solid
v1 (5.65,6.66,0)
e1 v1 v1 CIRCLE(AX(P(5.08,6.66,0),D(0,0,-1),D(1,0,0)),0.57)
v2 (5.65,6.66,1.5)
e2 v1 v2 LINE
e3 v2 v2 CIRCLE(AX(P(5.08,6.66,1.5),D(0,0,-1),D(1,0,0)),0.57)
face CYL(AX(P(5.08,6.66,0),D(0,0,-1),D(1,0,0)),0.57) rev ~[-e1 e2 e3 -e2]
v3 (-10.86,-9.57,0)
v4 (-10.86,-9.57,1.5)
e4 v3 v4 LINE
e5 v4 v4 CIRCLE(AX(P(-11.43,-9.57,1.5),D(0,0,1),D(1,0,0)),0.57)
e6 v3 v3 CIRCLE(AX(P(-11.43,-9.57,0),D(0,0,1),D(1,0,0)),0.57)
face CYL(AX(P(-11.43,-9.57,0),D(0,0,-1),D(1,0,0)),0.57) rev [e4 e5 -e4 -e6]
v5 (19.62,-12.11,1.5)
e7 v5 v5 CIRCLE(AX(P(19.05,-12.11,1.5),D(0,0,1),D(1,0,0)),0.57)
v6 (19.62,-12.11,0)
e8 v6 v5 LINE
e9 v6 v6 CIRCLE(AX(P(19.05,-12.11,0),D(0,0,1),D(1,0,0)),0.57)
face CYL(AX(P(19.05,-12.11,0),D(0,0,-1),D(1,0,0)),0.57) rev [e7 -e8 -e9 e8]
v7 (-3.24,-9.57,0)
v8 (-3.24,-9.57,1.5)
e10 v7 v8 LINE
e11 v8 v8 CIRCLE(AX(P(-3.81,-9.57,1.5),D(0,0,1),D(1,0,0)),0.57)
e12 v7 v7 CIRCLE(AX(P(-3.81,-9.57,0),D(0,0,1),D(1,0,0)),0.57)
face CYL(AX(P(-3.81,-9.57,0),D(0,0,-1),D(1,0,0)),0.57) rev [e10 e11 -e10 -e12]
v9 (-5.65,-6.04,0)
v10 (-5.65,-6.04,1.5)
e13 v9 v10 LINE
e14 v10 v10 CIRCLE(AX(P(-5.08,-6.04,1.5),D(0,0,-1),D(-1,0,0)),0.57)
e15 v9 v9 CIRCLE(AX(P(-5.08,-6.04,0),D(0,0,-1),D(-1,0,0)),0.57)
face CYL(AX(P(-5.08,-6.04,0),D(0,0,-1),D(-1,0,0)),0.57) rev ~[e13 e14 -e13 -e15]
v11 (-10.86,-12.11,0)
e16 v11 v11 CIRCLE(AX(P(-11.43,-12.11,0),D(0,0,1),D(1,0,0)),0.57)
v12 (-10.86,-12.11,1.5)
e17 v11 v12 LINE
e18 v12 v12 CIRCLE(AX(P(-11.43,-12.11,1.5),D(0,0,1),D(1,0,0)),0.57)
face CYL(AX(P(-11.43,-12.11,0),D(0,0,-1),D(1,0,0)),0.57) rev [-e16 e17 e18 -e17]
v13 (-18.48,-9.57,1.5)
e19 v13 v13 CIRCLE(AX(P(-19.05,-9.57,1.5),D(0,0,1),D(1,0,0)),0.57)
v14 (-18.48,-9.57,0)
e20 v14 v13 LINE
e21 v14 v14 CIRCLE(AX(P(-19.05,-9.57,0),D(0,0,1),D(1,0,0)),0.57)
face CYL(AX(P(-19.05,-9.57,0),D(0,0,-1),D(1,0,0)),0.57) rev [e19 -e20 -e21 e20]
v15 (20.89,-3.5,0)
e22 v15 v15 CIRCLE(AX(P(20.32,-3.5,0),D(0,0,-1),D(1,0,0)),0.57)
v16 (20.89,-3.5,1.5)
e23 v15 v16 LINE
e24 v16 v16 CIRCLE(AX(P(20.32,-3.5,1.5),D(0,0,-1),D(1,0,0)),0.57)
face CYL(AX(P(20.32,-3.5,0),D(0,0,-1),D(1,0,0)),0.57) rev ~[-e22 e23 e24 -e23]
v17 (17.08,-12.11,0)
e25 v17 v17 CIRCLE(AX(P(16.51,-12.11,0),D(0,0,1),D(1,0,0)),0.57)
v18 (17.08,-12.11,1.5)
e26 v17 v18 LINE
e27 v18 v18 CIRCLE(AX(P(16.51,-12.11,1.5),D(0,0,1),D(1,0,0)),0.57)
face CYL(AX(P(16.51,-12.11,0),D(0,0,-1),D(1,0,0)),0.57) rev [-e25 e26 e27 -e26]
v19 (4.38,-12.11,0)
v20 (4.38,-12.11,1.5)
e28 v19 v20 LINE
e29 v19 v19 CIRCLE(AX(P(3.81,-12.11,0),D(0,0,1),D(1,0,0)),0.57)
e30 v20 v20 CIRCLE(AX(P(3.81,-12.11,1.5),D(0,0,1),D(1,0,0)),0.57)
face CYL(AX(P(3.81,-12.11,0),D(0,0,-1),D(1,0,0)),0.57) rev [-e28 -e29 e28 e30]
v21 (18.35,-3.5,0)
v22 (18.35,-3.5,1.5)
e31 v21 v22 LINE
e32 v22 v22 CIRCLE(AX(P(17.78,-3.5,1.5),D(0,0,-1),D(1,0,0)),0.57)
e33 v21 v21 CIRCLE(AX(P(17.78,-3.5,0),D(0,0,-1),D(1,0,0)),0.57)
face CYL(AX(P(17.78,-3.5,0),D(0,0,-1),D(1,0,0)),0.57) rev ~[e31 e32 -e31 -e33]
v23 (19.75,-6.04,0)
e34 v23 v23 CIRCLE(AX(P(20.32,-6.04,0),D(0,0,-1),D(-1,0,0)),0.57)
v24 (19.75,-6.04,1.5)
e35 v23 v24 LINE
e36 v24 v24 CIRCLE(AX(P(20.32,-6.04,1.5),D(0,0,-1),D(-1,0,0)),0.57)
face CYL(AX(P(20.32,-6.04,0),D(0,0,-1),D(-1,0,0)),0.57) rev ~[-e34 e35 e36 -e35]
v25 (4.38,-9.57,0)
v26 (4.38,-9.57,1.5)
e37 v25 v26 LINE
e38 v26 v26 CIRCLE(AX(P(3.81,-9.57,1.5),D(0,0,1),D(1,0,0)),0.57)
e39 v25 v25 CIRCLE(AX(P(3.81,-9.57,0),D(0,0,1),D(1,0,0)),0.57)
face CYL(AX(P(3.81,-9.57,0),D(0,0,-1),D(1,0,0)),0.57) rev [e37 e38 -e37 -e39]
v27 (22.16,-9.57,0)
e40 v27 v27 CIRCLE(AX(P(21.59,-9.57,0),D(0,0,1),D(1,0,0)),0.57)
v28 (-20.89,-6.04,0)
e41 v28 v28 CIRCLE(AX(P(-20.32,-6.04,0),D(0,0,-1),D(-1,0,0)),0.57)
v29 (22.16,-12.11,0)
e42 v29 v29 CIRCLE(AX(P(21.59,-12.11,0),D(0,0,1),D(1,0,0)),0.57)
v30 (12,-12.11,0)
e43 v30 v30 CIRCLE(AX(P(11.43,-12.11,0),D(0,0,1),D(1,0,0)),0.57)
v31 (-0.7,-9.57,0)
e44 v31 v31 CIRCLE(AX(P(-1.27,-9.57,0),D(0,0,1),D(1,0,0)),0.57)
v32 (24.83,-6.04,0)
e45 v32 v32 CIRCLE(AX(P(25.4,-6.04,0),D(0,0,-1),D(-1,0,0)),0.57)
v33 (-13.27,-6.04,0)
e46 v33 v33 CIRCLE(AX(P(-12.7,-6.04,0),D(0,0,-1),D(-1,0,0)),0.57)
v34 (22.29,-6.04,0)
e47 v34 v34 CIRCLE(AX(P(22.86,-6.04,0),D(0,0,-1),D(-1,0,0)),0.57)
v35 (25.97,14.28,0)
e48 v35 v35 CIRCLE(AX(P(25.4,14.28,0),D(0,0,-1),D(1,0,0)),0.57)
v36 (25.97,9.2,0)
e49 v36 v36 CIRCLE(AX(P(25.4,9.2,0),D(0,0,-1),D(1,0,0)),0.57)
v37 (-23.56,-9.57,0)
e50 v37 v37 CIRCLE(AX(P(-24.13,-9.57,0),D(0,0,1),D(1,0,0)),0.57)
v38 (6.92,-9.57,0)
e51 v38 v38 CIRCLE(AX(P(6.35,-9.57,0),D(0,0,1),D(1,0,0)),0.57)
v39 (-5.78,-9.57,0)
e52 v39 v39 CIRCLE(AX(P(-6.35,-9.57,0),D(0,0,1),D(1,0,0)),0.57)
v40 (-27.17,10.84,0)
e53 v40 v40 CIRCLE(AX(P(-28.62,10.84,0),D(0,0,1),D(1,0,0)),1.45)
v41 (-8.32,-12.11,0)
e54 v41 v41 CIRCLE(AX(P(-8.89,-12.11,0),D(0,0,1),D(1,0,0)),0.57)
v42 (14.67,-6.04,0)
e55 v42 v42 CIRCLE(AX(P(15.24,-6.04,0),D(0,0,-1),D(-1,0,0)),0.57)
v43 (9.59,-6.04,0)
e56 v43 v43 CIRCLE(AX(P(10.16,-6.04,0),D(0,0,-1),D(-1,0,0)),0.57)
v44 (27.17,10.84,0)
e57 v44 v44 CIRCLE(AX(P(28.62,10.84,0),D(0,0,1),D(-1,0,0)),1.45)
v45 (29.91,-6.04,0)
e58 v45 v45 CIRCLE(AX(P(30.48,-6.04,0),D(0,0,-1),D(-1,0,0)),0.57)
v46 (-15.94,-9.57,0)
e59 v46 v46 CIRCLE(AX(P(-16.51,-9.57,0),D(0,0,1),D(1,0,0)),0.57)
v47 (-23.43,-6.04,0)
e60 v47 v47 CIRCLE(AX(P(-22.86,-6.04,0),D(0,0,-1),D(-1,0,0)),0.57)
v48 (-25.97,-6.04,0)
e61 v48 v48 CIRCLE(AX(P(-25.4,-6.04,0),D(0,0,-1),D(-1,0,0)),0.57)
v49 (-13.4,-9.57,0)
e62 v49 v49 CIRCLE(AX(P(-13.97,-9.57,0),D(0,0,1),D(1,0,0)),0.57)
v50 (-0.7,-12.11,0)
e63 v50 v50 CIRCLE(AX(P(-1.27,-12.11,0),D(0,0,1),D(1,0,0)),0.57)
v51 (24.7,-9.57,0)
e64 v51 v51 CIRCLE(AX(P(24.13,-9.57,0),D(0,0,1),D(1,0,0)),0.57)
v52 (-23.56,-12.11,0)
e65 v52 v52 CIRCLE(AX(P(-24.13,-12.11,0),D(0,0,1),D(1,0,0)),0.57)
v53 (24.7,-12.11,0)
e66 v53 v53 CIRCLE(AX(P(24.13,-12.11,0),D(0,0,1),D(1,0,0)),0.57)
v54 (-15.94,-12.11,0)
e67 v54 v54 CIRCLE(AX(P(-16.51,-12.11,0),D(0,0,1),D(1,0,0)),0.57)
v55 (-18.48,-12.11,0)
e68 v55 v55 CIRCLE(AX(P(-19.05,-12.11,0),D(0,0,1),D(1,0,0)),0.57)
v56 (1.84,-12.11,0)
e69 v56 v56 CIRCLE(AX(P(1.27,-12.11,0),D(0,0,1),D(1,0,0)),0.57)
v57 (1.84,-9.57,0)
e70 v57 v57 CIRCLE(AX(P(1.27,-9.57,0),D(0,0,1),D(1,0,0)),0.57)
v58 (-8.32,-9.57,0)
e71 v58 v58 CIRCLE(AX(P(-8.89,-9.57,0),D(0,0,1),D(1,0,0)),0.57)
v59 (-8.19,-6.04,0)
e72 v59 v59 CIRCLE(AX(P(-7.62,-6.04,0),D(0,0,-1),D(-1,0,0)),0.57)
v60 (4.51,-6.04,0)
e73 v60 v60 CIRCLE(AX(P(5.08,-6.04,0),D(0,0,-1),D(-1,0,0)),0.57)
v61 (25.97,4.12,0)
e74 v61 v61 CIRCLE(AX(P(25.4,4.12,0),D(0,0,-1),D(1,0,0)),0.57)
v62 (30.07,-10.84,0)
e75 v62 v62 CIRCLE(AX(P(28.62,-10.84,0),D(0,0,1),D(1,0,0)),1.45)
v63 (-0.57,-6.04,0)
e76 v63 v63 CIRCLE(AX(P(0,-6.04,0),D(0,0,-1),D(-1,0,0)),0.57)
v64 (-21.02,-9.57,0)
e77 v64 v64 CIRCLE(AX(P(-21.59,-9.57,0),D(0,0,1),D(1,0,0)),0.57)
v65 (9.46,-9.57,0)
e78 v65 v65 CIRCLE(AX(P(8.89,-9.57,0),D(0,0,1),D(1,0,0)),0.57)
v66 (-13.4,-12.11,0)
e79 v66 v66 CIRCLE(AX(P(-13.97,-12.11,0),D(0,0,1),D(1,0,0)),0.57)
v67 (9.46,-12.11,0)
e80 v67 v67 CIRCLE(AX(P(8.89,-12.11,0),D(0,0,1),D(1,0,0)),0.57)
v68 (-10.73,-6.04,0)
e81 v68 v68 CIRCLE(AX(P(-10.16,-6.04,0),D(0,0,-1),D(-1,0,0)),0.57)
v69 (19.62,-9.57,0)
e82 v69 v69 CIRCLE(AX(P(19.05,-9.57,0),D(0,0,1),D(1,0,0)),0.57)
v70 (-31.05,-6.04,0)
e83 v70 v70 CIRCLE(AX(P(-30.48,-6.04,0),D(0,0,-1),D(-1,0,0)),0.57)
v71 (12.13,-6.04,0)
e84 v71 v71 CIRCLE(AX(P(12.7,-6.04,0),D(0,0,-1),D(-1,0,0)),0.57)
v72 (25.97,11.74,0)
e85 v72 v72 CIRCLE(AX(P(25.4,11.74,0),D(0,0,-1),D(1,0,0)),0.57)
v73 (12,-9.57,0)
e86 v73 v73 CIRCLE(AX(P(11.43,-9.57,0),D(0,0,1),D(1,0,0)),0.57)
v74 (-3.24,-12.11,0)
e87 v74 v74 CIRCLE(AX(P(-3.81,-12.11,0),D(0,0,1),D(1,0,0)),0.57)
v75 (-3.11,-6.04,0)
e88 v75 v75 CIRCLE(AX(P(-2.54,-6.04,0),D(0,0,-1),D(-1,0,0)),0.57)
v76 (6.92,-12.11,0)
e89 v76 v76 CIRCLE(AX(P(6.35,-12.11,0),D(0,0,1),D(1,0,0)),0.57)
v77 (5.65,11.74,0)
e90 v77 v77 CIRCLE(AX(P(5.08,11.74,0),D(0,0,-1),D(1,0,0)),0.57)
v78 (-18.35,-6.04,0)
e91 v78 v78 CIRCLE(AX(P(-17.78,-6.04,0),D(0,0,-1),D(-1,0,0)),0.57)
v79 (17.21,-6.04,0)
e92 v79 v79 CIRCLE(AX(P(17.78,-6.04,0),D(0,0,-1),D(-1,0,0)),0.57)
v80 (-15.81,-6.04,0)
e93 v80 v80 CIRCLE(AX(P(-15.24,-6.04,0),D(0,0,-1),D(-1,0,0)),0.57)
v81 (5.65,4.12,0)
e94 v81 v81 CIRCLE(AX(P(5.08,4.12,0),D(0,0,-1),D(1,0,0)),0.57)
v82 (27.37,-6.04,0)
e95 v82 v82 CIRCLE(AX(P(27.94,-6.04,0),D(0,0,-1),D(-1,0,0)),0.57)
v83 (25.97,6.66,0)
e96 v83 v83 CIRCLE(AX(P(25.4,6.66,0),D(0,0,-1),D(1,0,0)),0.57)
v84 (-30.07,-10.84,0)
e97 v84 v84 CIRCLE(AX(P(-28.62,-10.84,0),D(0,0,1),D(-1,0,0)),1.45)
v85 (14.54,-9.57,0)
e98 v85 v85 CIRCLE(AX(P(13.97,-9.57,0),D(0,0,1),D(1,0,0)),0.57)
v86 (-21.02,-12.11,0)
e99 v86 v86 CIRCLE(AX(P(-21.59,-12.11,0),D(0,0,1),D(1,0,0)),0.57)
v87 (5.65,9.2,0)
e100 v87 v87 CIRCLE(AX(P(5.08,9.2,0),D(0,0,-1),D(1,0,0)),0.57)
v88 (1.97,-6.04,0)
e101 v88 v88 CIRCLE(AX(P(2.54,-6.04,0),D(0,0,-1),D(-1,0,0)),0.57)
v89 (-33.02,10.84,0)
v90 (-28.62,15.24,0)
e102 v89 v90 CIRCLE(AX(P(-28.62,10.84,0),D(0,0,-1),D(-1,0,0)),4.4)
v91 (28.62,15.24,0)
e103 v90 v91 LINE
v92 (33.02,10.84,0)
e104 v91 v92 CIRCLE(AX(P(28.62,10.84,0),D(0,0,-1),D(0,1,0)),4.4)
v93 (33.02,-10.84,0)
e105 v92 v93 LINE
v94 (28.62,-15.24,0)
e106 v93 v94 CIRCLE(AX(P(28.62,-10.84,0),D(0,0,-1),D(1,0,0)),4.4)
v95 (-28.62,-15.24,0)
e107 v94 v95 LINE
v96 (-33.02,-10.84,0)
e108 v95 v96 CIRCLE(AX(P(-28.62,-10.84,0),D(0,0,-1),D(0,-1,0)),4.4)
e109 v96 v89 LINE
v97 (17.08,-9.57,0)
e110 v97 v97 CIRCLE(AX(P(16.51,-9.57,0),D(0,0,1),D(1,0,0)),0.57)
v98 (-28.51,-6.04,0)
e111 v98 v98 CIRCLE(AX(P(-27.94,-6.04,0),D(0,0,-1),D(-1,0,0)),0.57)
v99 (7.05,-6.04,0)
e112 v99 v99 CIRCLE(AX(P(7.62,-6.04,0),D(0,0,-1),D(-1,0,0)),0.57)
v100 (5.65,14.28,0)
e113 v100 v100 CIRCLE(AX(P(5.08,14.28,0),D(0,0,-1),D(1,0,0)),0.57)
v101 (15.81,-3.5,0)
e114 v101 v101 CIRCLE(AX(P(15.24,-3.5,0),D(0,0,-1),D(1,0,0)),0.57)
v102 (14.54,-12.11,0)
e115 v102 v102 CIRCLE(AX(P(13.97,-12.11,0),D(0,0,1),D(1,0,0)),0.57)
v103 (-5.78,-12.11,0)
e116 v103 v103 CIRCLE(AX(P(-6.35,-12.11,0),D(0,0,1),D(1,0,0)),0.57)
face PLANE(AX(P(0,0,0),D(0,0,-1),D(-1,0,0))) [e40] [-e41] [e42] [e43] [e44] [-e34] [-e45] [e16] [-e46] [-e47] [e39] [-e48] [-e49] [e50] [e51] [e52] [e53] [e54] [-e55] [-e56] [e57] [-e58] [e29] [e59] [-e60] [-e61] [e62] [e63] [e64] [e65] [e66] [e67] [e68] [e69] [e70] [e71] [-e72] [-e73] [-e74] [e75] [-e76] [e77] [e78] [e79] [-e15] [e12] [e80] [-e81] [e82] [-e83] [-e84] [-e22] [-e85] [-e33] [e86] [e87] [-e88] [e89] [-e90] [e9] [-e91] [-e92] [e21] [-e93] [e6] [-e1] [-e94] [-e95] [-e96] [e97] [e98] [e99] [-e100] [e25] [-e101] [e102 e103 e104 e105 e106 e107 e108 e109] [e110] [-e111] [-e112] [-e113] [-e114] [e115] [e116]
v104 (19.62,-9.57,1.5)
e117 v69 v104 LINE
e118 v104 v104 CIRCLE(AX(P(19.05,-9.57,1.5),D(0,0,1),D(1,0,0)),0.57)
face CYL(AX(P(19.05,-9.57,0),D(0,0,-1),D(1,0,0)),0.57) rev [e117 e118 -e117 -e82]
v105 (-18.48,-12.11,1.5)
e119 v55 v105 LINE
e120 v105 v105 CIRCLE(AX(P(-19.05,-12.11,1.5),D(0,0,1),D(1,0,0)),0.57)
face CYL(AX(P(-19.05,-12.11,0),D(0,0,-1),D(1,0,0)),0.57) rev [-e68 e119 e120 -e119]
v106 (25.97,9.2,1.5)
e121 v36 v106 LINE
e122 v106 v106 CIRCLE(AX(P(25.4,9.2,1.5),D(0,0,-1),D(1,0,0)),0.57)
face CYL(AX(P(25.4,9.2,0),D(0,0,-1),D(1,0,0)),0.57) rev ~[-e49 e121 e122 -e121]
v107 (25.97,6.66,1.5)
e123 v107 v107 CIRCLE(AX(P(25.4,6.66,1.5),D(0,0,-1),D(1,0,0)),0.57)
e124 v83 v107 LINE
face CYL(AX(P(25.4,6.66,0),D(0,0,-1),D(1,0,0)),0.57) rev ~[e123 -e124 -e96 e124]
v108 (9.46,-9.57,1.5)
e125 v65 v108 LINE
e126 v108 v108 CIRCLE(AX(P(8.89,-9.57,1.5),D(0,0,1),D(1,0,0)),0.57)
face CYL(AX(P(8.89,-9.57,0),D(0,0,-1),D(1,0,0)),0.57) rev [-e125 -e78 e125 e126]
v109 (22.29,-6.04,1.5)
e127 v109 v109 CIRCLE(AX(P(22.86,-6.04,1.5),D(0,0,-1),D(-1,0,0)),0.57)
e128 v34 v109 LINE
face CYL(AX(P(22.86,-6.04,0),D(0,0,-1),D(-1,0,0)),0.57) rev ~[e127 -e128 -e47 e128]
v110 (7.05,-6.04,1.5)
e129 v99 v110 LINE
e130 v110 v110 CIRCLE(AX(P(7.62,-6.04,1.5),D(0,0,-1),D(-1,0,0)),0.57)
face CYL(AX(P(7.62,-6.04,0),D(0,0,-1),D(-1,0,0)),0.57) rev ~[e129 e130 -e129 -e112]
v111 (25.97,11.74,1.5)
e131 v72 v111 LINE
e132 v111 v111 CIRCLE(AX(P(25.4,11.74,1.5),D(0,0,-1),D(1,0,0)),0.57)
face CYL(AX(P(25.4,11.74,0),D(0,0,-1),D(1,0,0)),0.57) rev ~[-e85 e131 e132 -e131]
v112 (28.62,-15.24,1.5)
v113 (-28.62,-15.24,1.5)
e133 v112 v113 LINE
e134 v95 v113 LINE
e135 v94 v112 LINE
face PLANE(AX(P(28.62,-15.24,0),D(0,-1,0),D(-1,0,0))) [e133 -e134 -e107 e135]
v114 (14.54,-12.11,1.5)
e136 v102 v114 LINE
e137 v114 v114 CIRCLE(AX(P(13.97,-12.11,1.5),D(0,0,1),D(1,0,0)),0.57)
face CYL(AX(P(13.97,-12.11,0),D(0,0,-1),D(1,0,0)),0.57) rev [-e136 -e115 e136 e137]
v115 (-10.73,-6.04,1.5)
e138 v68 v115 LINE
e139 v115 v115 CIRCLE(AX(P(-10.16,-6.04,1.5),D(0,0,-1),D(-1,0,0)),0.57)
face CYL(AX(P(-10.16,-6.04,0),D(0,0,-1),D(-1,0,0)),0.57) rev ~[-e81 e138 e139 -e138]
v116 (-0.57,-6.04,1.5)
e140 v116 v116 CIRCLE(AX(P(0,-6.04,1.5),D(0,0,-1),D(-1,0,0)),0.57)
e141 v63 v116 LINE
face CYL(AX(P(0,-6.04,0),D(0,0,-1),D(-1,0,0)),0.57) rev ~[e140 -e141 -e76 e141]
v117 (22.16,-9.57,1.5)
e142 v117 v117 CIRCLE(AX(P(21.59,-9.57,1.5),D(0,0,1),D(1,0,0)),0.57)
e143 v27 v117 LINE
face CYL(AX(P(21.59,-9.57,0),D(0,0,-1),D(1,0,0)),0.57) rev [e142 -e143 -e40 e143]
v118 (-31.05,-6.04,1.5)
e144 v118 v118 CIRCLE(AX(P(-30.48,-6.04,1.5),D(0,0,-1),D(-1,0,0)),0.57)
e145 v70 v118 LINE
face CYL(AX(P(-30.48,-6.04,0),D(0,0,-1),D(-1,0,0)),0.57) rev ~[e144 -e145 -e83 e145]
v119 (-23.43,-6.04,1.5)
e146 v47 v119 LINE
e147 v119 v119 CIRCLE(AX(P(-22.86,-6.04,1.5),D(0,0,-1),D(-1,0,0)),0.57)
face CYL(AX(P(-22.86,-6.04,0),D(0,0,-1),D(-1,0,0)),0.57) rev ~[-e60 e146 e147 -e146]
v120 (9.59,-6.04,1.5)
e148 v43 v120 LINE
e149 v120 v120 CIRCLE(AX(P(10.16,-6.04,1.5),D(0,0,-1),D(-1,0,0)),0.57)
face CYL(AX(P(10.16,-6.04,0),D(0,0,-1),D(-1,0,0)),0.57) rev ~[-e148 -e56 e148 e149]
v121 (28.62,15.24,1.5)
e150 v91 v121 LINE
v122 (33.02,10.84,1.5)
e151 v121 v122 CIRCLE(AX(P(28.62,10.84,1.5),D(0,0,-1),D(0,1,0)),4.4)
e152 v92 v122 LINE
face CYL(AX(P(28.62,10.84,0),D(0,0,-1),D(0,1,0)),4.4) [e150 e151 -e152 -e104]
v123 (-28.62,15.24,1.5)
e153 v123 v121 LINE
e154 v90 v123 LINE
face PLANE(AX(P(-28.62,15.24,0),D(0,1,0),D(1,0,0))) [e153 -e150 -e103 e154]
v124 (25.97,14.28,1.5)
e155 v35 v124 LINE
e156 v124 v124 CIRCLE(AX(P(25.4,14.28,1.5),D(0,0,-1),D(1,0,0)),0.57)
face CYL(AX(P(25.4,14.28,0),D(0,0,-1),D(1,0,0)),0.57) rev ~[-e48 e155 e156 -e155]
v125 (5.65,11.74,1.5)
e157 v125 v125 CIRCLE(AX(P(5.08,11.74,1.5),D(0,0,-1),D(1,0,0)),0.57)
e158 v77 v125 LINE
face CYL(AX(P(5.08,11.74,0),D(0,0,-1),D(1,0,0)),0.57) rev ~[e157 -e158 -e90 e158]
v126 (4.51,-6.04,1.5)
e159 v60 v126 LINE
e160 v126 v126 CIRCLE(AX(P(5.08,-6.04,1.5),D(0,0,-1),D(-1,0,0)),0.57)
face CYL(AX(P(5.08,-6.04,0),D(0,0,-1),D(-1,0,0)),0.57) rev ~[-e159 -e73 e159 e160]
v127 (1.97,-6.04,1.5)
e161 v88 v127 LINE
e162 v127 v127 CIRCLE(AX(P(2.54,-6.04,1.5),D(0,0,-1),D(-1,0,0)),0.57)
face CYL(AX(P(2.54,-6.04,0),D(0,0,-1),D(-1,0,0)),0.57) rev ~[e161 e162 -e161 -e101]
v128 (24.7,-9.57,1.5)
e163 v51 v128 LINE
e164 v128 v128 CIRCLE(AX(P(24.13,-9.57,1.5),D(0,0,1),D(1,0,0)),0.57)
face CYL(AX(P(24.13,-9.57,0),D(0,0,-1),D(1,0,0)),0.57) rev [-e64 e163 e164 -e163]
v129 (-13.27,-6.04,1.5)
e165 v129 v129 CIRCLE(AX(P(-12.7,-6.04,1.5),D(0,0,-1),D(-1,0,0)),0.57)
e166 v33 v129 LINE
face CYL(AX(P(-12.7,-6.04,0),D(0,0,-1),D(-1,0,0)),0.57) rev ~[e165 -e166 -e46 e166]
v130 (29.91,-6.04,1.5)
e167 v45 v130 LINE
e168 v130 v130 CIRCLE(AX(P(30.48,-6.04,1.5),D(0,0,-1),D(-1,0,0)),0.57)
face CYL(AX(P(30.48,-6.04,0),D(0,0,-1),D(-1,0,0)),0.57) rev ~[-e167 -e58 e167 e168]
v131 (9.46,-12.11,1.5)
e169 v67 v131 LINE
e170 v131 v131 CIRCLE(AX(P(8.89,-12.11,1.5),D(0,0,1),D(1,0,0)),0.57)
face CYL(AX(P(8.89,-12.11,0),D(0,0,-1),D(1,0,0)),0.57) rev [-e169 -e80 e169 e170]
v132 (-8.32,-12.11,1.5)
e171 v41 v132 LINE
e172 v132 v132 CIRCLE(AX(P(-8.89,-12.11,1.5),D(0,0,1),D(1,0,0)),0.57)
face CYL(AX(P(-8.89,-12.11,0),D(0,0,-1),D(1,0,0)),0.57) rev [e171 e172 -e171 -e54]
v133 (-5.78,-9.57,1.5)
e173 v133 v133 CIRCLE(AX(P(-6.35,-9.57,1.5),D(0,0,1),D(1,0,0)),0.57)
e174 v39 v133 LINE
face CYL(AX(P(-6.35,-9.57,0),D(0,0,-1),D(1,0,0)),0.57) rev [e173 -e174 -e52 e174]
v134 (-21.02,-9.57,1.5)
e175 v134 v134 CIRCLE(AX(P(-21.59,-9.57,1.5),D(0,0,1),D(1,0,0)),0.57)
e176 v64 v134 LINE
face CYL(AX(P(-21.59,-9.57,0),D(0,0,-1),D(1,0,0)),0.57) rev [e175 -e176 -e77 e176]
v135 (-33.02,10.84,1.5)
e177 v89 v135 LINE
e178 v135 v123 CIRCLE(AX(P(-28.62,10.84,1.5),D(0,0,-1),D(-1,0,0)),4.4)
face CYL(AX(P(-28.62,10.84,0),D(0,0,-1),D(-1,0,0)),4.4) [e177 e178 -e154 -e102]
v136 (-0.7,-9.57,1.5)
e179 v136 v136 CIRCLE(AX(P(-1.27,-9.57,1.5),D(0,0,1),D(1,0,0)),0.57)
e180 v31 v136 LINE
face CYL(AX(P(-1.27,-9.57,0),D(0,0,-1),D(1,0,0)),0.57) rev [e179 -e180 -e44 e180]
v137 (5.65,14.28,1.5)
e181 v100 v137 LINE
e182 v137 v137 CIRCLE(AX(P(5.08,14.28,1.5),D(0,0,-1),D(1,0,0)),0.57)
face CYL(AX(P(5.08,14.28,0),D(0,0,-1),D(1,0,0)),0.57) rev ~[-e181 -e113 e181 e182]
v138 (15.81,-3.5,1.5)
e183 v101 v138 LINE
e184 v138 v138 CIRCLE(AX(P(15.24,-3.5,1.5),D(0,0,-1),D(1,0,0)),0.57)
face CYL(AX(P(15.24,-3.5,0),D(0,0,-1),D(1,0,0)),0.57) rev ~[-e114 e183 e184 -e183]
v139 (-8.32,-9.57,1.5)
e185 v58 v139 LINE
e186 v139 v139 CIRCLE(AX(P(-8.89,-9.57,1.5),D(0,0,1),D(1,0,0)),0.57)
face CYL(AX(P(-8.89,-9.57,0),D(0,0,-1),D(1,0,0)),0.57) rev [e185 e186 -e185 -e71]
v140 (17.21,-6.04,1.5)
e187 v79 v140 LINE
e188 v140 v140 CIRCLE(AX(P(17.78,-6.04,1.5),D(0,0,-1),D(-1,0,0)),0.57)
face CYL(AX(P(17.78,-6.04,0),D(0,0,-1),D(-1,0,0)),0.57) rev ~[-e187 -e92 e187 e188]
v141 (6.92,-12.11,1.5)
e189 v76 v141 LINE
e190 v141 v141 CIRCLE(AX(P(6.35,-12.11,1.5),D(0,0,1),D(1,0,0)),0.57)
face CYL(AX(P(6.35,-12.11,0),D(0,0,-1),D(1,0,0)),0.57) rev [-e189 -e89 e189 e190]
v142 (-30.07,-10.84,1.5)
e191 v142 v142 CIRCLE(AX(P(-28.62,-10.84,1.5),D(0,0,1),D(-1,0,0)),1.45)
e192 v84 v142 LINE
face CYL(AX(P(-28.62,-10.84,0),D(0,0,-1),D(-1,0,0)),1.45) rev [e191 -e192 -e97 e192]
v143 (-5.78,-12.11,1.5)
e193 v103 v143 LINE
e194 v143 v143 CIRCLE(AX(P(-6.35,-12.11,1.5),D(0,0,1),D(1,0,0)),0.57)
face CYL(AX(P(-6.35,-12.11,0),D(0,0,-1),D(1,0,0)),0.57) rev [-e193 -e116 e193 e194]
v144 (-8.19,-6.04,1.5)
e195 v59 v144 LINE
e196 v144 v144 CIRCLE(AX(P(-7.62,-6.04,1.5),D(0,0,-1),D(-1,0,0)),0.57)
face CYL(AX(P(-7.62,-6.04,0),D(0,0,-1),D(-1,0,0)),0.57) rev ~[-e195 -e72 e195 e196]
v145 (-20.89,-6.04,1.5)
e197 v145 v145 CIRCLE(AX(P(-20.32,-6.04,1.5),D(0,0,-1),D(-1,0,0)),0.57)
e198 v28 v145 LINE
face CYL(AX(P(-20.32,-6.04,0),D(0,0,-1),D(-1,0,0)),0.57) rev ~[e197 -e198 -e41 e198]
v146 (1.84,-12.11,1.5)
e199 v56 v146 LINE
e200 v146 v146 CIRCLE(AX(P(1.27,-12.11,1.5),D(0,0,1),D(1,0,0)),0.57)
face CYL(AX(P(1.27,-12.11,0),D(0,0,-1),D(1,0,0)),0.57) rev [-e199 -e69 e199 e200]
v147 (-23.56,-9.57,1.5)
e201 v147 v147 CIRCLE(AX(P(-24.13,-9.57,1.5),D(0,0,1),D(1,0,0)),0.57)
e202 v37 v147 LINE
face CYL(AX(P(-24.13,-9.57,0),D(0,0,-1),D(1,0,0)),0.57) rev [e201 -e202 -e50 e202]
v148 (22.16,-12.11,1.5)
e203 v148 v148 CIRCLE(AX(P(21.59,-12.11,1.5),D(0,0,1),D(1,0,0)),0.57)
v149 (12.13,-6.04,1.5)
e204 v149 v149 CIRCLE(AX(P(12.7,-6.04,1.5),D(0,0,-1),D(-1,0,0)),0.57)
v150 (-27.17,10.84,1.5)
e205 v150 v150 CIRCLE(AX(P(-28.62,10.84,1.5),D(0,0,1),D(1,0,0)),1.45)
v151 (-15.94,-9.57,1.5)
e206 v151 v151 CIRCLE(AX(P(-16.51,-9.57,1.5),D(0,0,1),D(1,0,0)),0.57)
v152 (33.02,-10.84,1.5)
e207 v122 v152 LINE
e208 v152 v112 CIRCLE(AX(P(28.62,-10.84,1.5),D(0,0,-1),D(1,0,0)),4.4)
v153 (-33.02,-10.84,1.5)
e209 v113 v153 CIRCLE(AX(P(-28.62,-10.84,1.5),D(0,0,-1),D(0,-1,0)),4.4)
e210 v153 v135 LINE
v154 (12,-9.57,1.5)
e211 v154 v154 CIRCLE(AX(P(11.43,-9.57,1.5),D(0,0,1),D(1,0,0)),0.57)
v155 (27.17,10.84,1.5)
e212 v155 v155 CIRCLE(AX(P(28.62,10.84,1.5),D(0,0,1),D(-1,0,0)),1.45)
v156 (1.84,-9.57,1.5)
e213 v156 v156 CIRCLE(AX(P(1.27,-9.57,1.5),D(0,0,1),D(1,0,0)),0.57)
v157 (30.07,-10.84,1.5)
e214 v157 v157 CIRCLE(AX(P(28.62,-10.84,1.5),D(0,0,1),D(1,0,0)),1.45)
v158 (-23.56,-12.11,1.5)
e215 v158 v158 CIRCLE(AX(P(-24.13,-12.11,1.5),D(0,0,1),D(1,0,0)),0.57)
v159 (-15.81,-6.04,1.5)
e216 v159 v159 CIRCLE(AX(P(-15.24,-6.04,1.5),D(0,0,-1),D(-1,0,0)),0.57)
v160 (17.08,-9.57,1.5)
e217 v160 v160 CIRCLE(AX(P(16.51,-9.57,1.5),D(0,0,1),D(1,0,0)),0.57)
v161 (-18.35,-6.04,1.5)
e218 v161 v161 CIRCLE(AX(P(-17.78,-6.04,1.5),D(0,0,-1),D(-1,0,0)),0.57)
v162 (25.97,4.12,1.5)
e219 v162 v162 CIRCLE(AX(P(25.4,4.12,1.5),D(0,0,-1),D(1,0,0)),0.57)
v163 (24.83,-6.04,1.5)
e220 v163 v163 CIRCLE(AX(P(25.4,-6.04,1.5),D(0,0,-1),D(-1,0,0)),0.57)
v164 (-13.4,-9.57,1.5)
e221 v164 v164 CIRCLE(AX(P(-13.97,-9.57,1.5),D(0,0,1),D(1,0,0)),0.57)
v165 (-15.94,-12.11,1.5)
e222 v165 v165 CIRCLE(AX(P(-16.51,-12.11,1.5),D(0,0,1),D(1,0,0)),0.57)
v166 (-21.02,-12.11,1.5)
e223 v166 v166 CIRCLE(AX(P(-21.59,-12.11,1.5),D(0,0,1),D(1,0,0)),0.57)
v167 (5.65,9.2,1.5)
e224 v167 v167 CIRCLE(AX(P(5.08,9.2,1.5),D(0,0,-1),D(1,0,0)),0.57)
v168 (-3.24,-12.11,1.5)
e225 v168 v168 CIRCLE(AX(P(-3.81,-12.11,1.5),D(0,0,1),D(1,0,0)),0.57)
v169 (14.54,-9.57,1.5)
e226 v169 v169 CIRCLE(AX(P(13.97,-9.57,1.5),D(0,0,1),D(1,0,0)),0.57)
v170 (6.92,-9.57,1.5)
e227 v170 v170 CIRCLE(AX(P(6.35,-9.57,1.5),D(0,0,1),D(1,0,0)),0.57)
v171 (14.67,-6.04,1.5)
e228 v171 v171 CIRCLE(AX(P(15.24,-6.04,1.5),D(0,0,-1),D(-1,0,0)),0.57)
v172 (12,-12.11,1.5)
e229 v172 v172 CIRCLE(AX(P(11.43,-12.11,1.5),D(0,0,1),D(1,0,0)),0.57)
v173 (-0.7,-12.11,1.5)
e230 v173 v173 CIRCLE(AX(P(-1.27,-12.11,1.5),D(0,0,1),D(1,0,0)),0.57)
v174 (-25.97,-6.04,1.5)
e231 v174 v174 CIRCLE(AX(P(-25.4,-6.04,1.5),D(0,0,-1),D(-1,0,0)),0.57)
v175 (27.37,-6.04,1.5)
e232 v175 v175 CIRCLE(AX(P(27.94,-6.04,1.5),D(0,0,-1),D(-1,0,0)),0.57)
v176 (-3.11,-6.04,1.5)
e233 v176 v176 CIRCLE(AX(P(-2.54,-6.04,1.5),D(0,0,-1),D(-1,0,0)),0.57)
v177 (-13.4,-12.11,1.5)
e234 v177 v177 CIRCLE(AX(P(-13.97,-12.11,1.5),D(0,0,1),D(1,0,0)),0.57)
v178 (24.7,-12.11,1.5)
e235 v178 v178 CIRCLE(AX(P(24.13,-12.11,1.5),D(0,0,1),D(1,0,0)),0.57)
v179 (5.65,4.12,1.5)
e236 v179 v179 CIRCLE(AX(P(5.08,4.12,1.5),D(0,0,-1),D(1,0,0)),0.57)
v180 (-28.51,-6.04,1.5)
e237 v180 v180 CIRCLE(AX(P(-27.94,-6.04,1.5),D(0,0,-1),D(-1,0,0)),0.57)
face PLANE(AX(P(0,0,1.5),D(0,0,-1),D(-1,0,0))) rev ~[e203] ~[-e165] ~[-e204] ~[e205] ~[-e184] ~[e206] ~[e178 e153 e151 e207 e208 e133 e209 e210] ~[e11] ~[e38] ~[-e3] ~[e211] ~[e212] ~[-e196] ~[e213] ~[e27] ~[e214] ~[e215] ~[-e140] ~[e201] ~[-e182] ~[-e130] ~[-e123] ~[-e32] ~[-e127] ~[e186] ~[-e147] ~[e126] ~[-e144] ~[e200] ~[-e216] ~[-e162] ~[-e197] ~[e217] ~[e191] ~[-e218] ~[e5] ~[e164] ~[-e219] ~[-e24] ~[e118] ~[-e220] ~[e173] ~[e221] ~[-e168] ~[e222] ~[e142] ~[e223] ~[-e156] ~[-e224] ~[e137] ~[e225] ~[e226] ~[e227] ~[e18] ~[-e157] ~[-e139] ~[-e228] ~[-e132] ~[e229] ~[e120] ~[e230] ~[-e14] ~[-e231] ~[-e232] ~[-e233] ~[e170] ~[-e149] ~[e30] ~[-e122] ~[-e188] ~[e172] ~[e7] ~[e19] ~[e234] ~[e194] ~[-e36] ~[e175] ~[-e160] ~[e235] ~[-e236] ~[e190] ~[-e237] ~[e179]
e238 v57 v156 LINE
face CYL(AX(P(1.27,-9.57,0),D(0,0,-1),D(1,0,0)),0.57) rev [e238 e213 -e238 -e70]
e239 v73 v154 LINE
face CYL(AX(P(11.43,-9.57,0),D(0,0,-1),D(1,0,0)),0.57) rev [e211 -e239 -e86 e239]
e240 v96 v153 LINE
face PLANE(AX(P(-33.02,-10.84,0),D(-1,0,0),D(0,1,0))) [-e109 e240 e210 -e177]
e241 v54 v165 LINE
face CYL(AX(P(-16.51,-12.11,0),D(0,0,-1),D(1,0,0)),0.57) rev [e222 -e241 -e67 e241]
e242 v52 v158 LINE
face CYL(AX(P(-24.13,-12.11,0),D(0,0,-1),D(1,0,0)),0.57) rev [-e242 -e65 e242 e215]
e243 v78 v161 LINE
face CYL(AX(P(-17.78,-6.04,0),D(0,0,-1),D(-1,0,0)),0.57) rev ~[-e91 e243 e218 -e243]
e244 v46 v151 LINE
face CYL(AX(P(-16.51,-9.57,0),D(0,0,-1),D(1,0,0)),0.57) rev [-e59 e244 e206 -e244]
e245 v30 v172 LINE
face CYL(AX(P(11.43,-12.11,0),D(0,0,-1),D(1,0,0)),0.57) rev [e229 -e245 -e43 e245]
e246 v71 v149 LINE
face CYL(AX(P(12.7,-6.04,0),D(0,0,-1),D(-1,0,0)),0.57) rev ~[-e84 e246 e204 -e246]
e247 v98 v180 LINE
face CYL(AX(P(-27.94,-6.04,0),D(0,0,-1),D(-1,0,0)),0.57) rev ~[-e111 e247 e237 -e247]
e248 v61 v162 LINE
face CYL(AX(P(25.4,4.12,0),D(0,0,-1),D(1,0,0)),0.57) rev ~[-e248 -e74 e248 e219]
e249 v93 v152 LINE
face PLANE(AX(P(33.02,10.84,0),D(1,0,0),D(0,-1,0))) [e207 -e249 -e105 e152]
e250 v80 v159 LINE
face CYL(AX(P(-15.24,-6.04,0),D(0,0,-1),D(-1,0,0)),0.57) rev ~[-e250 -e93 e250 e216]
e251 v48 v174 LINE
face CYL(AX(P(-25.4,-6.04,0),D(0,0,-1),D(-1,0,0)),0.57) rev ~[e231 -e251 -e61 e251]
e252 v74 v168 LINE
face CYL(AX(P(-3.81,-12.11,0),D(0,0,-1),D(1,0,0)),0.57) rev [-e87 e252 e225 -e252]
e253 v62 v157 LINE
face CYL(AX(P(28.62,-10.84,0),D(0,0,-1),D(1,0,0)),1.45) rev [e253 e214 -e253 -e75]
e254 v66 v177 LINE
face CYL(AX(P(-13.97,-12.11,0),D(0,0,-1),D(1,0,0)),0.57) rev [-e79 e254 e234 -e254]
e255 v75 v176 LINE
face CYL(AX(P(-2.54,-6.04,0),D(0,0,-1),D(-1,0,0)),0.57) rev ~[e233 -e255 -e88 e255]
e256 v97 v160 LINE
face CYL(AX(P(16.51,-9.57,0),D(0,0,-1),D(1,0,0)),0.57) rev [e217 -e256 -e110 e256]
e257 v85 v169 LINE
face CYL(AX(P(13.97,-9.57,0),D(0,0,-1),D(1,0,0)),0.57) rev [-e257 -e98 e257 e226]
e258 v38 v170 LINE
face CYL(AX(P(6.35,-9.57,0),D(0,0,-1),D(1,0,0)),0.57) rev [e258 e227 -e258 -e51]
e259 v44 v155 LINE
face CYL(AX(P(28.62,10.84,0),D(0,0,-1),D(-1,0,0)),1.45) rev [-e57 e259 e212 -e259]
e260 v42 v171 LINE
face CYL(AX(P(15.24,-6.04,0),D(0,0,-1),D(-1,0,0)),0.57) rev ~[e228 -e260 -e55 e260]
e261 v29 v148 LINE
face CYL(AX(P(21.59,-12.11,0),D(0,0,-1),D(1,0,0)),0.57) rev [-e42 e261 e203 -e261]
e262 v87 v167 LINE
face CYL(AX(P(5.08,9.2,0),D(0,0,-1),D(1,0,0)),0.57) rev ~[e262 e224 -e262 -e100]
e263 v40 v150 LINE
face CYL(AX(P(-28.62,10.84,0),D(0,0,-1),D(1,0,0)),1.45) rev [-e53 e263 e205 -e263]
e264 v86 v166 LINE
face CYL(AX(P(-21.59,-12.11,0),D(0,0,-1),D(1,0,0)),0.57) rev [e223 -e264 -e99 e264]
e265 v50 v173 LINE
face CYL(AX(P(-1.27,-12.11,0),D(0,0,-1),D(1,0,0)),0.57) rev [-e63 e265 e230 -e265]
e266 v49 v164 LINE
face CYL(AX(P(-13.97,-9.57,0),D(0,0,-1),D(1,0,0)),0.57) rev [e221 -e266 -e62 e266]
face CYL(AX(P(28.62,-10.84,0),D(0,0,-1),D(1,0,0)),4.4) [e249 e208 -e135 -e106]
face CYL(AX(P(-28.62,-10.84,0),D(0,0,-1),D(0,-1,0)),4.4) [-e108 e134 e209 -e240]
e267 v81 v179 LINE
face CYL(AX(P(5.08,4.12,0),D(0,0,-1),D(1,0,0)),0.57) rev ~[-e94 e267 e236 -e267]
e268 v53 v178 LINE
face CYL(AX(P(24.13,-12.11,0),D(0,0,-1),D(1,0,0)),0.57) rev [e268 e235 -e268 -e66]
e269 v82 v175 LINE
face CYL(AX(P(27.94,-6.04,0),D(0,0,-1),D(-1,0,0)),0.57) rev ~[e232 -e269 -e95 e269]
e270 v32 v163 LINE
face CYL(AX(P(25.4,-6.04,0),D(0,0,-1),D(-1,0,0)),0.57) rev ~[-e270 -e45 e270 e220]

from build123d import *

# Parameters (mm, degrees)
CROQUIS1_R              = 1.45
CROQUIS1_R_2            = 0.57
SALIENTE_EXTRUIR1_DEPTH = 1.5
CROQUIS2_R              = 0.57
CORTAR_EXTRUIR1_DEPTH   = 10


with BuildPart() as part:
    # Croquis1 → Saliente-Extruir1 (new body)
    with BuildSketch(Plane.XY):
        with BuildLine():
            Line((28.62, -15.24), (-28.62, -15.24))
            ThreePointArc((-28.62, -15.24), (-31.731269837, -13.951269837), (-33.02, -10.84))
            Line((-33.02, -10.84), (-33.02, 10.84))
            ThreePointArc((-33.02, 10.84), (-31.731269837, 13.951269837), (-28.62, 15.24))
            Line((-28.62, 15.24), (28.62, 15.24))
            ThreePointArc((28.62, 15.24), (31.731269837, 13.951269837), (33.02, 10.84))
            Line((33.02, 10.84), (33.02, -10.84))
            ThreePointArc((33.02, -10.84), (31.731269837, -13.951269837), (28.62, -15.24))
        make_face()
        with Locations((-28.62, 10.84)):
            Circle(CROQUIS1_R, mode=Mode.SUBTRACT)
        with Locations(Location((28.62, 10.84, 0), (0, 0, 180))):
            Circle(CROQUIS1_R, mode=Mode.SUBTRACT)
        with Locations((28.62, -10.84)):
            Circle(CROQUIS1_R, mode=Mode.SUBTRACT)
        with Locations(Location((-28.62, -10.84, 0), (0, 0, 180))):
            Circle(CROQUIS1_R, mode=Mode.SUBTRACT)
        with Locations((-24.13, -9.57)):
            Circle(CROQUIS1_R_2, mode=Mode.SUBTRACT)
        with Locations((-24.13, -12.11)):
            Circle(CROQUIS1_R_2, mode=Mode.SUBTRACT)
        with Locations((-21.59, -9.57)):
            Circle(CROQUIS1_R_2, mode=Mode.SUBTRACT)
        with Locations((-21.59, -12.11)):
            Circle(CROQUIS1_R_2, mode=Mode.SUBTRACT)
        with Locations((-19.05, -9.57)):
            Circle(CROQUIS1_R_2, mode=Mode.SUBTRACT)
        with Locations((-19.05, -12.11)):
            Circle(CROQUIS1_R_2, mode=Mode.SUBTRACT)
        with Locations((-16.51, -9.57)):
            Circle(CROQUIS1_R_2, mode=Mode.SUBTRACT)
        with Locations((-16.51, -12.11)):
            Circle(CROQUIS1_R_2, mode=Mode.SUBTRACT)
        with Locations((-13.97, -9.57)):
            Circle(CROQUIS1_R_2, mode=Mode.SUBTRACT)
        with Locations((-13.97, -12.11)):
            Circle(CROQUIS1_R_2, mode=Mode.SUBTRACT)
        with Locations((-11.43, -9.57)):
            Circle(CROQUIS1_R_2, mode=Mode.SUBTRACT)
        with Locations((-11.43, -12.11)):
            Circle(CROQUIS1_R_2, mode=Mode.SUBTRACT)
        with Locations((-8.89, -9.57)):
            Circle(CROQUIS1_R_2, mode=Mode.SUBTRACT)
        with Locations((-8.89, -12.11)):
            Circle(CROQUIS1_R_2, mode=Mode.SUBTRACT)
        with Locations((-6.35, -9.57)):
            Circle(CROQUIS1_R_2, mode=Mode.SUBTRACT)
        with Locations((-6.35, -12.11)):
            Circle(CROQUIS1_R_2, mode=Mode.SUBTRACT)
        with Locations((-3.81, -9.57)):
            Circle(CROQUIS1_R_2, mode=Mode.SUBTRACT)
        with Locations((-3.81, -12.11)):
            Circle(CROQUIS1_R_2, mode=Mode.SUBTRACT)
        with Locations((-1.27, -9.57)):
            Circle(CROQUIS1_R_2, mode=Mode.SUBTRACT)
        with Locations((-1.27, -12.11)):
            Circle(CROQUIS1_R_2, mode=Mode.SUBTRACT)
        with Locations((1.27, -9.57)):
            Circle(CROQUIS1_R_2, mode=Mode.SUBTRACT)
        with Locations((1.27, -12.11)):
            Circle(CROQUIS1_R_2, mode=Mode.SUBTRACT)
        with Locations((3.81, -9.57)):
            Circle(CROQUIS1_R_2, mode=Mode.SUBTRACT)
        with Locations((3.81, -12.11)):
            Circle(CROQUIS1_R_2, mode=Mode.SUBTRACT)
        with Locations((6.35, -9.57)):
            Circle(CROQUIS1_R_2, mode=Mode.SUBTRACT)
        with Locations((6.35, -12.11)):
            Circle(CROQUIS1_R_2, mode=Mode.SUBTRACT)
        with Locations((8.89, -9.57)):
            Circle(CROQUIS1_R_2, mode=Mode.SUBTRACT)
        with Locations((8.89, -12.11)):
            Circle(CROQUIS1_R_2, mode=Mode.SUBTRACT)
        with Locations((11.43, -9.57)):
            Circle(CROQUIS1_R_2, mode=Mode.SUBTRACT)
        with Locations((11.43, -12.11)):
            Circle(CROQUIS1_R_2, mode=Mode.SUBTRACT)
        with Locations((13.97, -9.57)):
            Circle(CROQUIS1_R_2, mode=Mode.SUBTRACT)
        with Locations((13.97, -12.11)):
            Circle(CROQUIS1_R_2, mode=Mode.SUBTRACT)
        with Locations((16.51, -9.57)):
            Circle(CROQUIS1_R_2, mode=Mode.SUBTRACT)
        with Locations((16.51, -12.11)):
            Circle(CROQUIS1_R_2, mode=Mode.SUBTRACT)
        with Locations((19.05, -9.57)):
            Circle(CROQUIS1_R_2, mode=Mode.SUBTRACT)
        with Locations((19.05, -12.11)):
            Circle(CROQUIS1_R_2, mode=Mode.SUBTRACT)
        with Locations((21.59, -9.57)):
            Circle(CROQUIS1_R_2, mode=Mode.SUBTRACT)
        with Locations((21.59, -12.11)):
            Circle(CROQUIS1_R_2, mode=Mode.SUBTRACT)
        with Locations((24.13, -9.57)):
            Circle(CROQUIS1_R_2, mode=Mode.SUBTRACT)
        with Locations((24.13, -12.11)):
            Circle(CROQUIS1_R_2, mode=Mode.SUBTRACT)
    extrude(amount=SALIENTE_EXTRUIR1_DEPTH)

    # Croquis2 → Cortar-Extruir1 (cut)
    with BuildSketch(Plane(origin=(0, 0, 0), x_dir=(-1, 0, 0), z_dir=(0, 0, -1))):
        with Locations((-30.48, -6.04)):
            Circle(CROQUIS2_R)
        with Locations((-27.94, -6.04)):
            Circle(CROQUIS2_R)
        with Locations((-25.4, -6.04)):
            Circle(CROQUIS2_R)
        with Locations((-22.86, -6.04)):
            Circle(CROQUIS2_R)
        with Locations((-20.32, -6.04)):
            Circle(CROQUIS2_R)
        with Locations((-17.78, -6.04)):
            Circle(CROQUIS2_R)
        with Locations((-15.24, -6.04)):
            Circle(CROQUIS2_R)
        with Locations((-12.7, -6.04)):
            Circle(CROQUIS2_R)
        with Locations((-10.16, -6.04)):
            Circle(CROQUIS2_R)
        with Locations((-7.62, -6.04)):
            Circle(CROQUIS2_R)
        with Locations((-5.08, -6.04)):
            Circle(CROQUIS2_R)
        with Locations((-2.54, -6.04)):
            Circle(CROQUIS2_R)
        with Locations((0, -6.04)):
            Circle(CROQUIS2_R)
        with Locations((2.54, -6.04)):
            Circle(CROQUIS2_R)
        with Locations((5.08, -6.04)):
            Circle(CROQUIS2_R)
        with Locations((7.62, -6.04)):
            Circle(CROQUIS2_R)
        with Locations((10.16, -6.04)):
            Circle(CROQUIS2_R)
        with Locations((12.7, -6.04)):
            Circle(CROQUIS2_R)
        with Locations((15.24, -6.04)):
            Circle(CROQUIS2_R)
        with Locations((17.78, -6.04)):
            Circle(CROQUIS2_R)
        with Locations((20.32, -6.04)):
            Circle(CROQUIS2_R)
        with Locations((22.86, -6.04)):
            Circle(CROQUIS2_R)
        with Locations((25.4, -6.04)):
            Circle(CROQUIS2_R)
        with Locations((27.94, -6.04)):
            Circle(CROQUIS2_R)
        with Locations((30.48, -6.04)):
            Circle(CROQUIS2_R)
        with Locations(Location((-5.08, 14.28, 0), (0, 0, 180))):
            Circle(CROQUIS2_R)
        with Locations(Location((-25.4, 14.28, 0), (0, 0, 180))):
            Circle(CROQUIS2_R)
        with Locations(Location((-5.08, 11.74, 0), (0, 0, 180))):
            Circle(CROQUIS2_R)
        with Locations(Location((-25.4, 11.74, 0), (0, 0, 180))):
            Circle(CROQUIS2_R)
        with Locations(Location((-5.08, 9.2, 0), (0, 0, 180))):
            Circle(CROQUIS2_R)
        with Locations(Location((-25.4, 9.2, 0), (0, 0, 180))):
            Circle(CROQUIS2_R)
        with Locations(Location((-5.08, 6.66, 0), (0, 0, 180))):
            Circle(CROQUIS2_R)
        with Locations(Location((-25.4, 6.66, 0), (0, 0, 180))):
            Circle(CROQUIS2_R)
        with Locations(Location((-5.08, 4.12, 0), (0, 0, 180))):
            Circle(CROQUIS2_R)
        with Locations(Location((-25.4, 4.12, 0), (0, 0, 180))):
            Circle(CROQUIS2_R)
        with Locations(Location((-15.24, -3.5, 0), (0, 0, 180))):
            Circle(CROQUIS2_R)
        with Locations(Location((-17.78, -3.5, 0), (0, 0, 180))):
            Circle(CROQUIS2_R)
        with Locations(Location((-20.32, -3.5, 0), (0, 0, 180))):
            Circle(CROQUIS2_R)
    extrude(amount=-CORTAR_EXTRUIR1_DEPTH, mode=Mode.SUBTRACT)


solid = part.part
